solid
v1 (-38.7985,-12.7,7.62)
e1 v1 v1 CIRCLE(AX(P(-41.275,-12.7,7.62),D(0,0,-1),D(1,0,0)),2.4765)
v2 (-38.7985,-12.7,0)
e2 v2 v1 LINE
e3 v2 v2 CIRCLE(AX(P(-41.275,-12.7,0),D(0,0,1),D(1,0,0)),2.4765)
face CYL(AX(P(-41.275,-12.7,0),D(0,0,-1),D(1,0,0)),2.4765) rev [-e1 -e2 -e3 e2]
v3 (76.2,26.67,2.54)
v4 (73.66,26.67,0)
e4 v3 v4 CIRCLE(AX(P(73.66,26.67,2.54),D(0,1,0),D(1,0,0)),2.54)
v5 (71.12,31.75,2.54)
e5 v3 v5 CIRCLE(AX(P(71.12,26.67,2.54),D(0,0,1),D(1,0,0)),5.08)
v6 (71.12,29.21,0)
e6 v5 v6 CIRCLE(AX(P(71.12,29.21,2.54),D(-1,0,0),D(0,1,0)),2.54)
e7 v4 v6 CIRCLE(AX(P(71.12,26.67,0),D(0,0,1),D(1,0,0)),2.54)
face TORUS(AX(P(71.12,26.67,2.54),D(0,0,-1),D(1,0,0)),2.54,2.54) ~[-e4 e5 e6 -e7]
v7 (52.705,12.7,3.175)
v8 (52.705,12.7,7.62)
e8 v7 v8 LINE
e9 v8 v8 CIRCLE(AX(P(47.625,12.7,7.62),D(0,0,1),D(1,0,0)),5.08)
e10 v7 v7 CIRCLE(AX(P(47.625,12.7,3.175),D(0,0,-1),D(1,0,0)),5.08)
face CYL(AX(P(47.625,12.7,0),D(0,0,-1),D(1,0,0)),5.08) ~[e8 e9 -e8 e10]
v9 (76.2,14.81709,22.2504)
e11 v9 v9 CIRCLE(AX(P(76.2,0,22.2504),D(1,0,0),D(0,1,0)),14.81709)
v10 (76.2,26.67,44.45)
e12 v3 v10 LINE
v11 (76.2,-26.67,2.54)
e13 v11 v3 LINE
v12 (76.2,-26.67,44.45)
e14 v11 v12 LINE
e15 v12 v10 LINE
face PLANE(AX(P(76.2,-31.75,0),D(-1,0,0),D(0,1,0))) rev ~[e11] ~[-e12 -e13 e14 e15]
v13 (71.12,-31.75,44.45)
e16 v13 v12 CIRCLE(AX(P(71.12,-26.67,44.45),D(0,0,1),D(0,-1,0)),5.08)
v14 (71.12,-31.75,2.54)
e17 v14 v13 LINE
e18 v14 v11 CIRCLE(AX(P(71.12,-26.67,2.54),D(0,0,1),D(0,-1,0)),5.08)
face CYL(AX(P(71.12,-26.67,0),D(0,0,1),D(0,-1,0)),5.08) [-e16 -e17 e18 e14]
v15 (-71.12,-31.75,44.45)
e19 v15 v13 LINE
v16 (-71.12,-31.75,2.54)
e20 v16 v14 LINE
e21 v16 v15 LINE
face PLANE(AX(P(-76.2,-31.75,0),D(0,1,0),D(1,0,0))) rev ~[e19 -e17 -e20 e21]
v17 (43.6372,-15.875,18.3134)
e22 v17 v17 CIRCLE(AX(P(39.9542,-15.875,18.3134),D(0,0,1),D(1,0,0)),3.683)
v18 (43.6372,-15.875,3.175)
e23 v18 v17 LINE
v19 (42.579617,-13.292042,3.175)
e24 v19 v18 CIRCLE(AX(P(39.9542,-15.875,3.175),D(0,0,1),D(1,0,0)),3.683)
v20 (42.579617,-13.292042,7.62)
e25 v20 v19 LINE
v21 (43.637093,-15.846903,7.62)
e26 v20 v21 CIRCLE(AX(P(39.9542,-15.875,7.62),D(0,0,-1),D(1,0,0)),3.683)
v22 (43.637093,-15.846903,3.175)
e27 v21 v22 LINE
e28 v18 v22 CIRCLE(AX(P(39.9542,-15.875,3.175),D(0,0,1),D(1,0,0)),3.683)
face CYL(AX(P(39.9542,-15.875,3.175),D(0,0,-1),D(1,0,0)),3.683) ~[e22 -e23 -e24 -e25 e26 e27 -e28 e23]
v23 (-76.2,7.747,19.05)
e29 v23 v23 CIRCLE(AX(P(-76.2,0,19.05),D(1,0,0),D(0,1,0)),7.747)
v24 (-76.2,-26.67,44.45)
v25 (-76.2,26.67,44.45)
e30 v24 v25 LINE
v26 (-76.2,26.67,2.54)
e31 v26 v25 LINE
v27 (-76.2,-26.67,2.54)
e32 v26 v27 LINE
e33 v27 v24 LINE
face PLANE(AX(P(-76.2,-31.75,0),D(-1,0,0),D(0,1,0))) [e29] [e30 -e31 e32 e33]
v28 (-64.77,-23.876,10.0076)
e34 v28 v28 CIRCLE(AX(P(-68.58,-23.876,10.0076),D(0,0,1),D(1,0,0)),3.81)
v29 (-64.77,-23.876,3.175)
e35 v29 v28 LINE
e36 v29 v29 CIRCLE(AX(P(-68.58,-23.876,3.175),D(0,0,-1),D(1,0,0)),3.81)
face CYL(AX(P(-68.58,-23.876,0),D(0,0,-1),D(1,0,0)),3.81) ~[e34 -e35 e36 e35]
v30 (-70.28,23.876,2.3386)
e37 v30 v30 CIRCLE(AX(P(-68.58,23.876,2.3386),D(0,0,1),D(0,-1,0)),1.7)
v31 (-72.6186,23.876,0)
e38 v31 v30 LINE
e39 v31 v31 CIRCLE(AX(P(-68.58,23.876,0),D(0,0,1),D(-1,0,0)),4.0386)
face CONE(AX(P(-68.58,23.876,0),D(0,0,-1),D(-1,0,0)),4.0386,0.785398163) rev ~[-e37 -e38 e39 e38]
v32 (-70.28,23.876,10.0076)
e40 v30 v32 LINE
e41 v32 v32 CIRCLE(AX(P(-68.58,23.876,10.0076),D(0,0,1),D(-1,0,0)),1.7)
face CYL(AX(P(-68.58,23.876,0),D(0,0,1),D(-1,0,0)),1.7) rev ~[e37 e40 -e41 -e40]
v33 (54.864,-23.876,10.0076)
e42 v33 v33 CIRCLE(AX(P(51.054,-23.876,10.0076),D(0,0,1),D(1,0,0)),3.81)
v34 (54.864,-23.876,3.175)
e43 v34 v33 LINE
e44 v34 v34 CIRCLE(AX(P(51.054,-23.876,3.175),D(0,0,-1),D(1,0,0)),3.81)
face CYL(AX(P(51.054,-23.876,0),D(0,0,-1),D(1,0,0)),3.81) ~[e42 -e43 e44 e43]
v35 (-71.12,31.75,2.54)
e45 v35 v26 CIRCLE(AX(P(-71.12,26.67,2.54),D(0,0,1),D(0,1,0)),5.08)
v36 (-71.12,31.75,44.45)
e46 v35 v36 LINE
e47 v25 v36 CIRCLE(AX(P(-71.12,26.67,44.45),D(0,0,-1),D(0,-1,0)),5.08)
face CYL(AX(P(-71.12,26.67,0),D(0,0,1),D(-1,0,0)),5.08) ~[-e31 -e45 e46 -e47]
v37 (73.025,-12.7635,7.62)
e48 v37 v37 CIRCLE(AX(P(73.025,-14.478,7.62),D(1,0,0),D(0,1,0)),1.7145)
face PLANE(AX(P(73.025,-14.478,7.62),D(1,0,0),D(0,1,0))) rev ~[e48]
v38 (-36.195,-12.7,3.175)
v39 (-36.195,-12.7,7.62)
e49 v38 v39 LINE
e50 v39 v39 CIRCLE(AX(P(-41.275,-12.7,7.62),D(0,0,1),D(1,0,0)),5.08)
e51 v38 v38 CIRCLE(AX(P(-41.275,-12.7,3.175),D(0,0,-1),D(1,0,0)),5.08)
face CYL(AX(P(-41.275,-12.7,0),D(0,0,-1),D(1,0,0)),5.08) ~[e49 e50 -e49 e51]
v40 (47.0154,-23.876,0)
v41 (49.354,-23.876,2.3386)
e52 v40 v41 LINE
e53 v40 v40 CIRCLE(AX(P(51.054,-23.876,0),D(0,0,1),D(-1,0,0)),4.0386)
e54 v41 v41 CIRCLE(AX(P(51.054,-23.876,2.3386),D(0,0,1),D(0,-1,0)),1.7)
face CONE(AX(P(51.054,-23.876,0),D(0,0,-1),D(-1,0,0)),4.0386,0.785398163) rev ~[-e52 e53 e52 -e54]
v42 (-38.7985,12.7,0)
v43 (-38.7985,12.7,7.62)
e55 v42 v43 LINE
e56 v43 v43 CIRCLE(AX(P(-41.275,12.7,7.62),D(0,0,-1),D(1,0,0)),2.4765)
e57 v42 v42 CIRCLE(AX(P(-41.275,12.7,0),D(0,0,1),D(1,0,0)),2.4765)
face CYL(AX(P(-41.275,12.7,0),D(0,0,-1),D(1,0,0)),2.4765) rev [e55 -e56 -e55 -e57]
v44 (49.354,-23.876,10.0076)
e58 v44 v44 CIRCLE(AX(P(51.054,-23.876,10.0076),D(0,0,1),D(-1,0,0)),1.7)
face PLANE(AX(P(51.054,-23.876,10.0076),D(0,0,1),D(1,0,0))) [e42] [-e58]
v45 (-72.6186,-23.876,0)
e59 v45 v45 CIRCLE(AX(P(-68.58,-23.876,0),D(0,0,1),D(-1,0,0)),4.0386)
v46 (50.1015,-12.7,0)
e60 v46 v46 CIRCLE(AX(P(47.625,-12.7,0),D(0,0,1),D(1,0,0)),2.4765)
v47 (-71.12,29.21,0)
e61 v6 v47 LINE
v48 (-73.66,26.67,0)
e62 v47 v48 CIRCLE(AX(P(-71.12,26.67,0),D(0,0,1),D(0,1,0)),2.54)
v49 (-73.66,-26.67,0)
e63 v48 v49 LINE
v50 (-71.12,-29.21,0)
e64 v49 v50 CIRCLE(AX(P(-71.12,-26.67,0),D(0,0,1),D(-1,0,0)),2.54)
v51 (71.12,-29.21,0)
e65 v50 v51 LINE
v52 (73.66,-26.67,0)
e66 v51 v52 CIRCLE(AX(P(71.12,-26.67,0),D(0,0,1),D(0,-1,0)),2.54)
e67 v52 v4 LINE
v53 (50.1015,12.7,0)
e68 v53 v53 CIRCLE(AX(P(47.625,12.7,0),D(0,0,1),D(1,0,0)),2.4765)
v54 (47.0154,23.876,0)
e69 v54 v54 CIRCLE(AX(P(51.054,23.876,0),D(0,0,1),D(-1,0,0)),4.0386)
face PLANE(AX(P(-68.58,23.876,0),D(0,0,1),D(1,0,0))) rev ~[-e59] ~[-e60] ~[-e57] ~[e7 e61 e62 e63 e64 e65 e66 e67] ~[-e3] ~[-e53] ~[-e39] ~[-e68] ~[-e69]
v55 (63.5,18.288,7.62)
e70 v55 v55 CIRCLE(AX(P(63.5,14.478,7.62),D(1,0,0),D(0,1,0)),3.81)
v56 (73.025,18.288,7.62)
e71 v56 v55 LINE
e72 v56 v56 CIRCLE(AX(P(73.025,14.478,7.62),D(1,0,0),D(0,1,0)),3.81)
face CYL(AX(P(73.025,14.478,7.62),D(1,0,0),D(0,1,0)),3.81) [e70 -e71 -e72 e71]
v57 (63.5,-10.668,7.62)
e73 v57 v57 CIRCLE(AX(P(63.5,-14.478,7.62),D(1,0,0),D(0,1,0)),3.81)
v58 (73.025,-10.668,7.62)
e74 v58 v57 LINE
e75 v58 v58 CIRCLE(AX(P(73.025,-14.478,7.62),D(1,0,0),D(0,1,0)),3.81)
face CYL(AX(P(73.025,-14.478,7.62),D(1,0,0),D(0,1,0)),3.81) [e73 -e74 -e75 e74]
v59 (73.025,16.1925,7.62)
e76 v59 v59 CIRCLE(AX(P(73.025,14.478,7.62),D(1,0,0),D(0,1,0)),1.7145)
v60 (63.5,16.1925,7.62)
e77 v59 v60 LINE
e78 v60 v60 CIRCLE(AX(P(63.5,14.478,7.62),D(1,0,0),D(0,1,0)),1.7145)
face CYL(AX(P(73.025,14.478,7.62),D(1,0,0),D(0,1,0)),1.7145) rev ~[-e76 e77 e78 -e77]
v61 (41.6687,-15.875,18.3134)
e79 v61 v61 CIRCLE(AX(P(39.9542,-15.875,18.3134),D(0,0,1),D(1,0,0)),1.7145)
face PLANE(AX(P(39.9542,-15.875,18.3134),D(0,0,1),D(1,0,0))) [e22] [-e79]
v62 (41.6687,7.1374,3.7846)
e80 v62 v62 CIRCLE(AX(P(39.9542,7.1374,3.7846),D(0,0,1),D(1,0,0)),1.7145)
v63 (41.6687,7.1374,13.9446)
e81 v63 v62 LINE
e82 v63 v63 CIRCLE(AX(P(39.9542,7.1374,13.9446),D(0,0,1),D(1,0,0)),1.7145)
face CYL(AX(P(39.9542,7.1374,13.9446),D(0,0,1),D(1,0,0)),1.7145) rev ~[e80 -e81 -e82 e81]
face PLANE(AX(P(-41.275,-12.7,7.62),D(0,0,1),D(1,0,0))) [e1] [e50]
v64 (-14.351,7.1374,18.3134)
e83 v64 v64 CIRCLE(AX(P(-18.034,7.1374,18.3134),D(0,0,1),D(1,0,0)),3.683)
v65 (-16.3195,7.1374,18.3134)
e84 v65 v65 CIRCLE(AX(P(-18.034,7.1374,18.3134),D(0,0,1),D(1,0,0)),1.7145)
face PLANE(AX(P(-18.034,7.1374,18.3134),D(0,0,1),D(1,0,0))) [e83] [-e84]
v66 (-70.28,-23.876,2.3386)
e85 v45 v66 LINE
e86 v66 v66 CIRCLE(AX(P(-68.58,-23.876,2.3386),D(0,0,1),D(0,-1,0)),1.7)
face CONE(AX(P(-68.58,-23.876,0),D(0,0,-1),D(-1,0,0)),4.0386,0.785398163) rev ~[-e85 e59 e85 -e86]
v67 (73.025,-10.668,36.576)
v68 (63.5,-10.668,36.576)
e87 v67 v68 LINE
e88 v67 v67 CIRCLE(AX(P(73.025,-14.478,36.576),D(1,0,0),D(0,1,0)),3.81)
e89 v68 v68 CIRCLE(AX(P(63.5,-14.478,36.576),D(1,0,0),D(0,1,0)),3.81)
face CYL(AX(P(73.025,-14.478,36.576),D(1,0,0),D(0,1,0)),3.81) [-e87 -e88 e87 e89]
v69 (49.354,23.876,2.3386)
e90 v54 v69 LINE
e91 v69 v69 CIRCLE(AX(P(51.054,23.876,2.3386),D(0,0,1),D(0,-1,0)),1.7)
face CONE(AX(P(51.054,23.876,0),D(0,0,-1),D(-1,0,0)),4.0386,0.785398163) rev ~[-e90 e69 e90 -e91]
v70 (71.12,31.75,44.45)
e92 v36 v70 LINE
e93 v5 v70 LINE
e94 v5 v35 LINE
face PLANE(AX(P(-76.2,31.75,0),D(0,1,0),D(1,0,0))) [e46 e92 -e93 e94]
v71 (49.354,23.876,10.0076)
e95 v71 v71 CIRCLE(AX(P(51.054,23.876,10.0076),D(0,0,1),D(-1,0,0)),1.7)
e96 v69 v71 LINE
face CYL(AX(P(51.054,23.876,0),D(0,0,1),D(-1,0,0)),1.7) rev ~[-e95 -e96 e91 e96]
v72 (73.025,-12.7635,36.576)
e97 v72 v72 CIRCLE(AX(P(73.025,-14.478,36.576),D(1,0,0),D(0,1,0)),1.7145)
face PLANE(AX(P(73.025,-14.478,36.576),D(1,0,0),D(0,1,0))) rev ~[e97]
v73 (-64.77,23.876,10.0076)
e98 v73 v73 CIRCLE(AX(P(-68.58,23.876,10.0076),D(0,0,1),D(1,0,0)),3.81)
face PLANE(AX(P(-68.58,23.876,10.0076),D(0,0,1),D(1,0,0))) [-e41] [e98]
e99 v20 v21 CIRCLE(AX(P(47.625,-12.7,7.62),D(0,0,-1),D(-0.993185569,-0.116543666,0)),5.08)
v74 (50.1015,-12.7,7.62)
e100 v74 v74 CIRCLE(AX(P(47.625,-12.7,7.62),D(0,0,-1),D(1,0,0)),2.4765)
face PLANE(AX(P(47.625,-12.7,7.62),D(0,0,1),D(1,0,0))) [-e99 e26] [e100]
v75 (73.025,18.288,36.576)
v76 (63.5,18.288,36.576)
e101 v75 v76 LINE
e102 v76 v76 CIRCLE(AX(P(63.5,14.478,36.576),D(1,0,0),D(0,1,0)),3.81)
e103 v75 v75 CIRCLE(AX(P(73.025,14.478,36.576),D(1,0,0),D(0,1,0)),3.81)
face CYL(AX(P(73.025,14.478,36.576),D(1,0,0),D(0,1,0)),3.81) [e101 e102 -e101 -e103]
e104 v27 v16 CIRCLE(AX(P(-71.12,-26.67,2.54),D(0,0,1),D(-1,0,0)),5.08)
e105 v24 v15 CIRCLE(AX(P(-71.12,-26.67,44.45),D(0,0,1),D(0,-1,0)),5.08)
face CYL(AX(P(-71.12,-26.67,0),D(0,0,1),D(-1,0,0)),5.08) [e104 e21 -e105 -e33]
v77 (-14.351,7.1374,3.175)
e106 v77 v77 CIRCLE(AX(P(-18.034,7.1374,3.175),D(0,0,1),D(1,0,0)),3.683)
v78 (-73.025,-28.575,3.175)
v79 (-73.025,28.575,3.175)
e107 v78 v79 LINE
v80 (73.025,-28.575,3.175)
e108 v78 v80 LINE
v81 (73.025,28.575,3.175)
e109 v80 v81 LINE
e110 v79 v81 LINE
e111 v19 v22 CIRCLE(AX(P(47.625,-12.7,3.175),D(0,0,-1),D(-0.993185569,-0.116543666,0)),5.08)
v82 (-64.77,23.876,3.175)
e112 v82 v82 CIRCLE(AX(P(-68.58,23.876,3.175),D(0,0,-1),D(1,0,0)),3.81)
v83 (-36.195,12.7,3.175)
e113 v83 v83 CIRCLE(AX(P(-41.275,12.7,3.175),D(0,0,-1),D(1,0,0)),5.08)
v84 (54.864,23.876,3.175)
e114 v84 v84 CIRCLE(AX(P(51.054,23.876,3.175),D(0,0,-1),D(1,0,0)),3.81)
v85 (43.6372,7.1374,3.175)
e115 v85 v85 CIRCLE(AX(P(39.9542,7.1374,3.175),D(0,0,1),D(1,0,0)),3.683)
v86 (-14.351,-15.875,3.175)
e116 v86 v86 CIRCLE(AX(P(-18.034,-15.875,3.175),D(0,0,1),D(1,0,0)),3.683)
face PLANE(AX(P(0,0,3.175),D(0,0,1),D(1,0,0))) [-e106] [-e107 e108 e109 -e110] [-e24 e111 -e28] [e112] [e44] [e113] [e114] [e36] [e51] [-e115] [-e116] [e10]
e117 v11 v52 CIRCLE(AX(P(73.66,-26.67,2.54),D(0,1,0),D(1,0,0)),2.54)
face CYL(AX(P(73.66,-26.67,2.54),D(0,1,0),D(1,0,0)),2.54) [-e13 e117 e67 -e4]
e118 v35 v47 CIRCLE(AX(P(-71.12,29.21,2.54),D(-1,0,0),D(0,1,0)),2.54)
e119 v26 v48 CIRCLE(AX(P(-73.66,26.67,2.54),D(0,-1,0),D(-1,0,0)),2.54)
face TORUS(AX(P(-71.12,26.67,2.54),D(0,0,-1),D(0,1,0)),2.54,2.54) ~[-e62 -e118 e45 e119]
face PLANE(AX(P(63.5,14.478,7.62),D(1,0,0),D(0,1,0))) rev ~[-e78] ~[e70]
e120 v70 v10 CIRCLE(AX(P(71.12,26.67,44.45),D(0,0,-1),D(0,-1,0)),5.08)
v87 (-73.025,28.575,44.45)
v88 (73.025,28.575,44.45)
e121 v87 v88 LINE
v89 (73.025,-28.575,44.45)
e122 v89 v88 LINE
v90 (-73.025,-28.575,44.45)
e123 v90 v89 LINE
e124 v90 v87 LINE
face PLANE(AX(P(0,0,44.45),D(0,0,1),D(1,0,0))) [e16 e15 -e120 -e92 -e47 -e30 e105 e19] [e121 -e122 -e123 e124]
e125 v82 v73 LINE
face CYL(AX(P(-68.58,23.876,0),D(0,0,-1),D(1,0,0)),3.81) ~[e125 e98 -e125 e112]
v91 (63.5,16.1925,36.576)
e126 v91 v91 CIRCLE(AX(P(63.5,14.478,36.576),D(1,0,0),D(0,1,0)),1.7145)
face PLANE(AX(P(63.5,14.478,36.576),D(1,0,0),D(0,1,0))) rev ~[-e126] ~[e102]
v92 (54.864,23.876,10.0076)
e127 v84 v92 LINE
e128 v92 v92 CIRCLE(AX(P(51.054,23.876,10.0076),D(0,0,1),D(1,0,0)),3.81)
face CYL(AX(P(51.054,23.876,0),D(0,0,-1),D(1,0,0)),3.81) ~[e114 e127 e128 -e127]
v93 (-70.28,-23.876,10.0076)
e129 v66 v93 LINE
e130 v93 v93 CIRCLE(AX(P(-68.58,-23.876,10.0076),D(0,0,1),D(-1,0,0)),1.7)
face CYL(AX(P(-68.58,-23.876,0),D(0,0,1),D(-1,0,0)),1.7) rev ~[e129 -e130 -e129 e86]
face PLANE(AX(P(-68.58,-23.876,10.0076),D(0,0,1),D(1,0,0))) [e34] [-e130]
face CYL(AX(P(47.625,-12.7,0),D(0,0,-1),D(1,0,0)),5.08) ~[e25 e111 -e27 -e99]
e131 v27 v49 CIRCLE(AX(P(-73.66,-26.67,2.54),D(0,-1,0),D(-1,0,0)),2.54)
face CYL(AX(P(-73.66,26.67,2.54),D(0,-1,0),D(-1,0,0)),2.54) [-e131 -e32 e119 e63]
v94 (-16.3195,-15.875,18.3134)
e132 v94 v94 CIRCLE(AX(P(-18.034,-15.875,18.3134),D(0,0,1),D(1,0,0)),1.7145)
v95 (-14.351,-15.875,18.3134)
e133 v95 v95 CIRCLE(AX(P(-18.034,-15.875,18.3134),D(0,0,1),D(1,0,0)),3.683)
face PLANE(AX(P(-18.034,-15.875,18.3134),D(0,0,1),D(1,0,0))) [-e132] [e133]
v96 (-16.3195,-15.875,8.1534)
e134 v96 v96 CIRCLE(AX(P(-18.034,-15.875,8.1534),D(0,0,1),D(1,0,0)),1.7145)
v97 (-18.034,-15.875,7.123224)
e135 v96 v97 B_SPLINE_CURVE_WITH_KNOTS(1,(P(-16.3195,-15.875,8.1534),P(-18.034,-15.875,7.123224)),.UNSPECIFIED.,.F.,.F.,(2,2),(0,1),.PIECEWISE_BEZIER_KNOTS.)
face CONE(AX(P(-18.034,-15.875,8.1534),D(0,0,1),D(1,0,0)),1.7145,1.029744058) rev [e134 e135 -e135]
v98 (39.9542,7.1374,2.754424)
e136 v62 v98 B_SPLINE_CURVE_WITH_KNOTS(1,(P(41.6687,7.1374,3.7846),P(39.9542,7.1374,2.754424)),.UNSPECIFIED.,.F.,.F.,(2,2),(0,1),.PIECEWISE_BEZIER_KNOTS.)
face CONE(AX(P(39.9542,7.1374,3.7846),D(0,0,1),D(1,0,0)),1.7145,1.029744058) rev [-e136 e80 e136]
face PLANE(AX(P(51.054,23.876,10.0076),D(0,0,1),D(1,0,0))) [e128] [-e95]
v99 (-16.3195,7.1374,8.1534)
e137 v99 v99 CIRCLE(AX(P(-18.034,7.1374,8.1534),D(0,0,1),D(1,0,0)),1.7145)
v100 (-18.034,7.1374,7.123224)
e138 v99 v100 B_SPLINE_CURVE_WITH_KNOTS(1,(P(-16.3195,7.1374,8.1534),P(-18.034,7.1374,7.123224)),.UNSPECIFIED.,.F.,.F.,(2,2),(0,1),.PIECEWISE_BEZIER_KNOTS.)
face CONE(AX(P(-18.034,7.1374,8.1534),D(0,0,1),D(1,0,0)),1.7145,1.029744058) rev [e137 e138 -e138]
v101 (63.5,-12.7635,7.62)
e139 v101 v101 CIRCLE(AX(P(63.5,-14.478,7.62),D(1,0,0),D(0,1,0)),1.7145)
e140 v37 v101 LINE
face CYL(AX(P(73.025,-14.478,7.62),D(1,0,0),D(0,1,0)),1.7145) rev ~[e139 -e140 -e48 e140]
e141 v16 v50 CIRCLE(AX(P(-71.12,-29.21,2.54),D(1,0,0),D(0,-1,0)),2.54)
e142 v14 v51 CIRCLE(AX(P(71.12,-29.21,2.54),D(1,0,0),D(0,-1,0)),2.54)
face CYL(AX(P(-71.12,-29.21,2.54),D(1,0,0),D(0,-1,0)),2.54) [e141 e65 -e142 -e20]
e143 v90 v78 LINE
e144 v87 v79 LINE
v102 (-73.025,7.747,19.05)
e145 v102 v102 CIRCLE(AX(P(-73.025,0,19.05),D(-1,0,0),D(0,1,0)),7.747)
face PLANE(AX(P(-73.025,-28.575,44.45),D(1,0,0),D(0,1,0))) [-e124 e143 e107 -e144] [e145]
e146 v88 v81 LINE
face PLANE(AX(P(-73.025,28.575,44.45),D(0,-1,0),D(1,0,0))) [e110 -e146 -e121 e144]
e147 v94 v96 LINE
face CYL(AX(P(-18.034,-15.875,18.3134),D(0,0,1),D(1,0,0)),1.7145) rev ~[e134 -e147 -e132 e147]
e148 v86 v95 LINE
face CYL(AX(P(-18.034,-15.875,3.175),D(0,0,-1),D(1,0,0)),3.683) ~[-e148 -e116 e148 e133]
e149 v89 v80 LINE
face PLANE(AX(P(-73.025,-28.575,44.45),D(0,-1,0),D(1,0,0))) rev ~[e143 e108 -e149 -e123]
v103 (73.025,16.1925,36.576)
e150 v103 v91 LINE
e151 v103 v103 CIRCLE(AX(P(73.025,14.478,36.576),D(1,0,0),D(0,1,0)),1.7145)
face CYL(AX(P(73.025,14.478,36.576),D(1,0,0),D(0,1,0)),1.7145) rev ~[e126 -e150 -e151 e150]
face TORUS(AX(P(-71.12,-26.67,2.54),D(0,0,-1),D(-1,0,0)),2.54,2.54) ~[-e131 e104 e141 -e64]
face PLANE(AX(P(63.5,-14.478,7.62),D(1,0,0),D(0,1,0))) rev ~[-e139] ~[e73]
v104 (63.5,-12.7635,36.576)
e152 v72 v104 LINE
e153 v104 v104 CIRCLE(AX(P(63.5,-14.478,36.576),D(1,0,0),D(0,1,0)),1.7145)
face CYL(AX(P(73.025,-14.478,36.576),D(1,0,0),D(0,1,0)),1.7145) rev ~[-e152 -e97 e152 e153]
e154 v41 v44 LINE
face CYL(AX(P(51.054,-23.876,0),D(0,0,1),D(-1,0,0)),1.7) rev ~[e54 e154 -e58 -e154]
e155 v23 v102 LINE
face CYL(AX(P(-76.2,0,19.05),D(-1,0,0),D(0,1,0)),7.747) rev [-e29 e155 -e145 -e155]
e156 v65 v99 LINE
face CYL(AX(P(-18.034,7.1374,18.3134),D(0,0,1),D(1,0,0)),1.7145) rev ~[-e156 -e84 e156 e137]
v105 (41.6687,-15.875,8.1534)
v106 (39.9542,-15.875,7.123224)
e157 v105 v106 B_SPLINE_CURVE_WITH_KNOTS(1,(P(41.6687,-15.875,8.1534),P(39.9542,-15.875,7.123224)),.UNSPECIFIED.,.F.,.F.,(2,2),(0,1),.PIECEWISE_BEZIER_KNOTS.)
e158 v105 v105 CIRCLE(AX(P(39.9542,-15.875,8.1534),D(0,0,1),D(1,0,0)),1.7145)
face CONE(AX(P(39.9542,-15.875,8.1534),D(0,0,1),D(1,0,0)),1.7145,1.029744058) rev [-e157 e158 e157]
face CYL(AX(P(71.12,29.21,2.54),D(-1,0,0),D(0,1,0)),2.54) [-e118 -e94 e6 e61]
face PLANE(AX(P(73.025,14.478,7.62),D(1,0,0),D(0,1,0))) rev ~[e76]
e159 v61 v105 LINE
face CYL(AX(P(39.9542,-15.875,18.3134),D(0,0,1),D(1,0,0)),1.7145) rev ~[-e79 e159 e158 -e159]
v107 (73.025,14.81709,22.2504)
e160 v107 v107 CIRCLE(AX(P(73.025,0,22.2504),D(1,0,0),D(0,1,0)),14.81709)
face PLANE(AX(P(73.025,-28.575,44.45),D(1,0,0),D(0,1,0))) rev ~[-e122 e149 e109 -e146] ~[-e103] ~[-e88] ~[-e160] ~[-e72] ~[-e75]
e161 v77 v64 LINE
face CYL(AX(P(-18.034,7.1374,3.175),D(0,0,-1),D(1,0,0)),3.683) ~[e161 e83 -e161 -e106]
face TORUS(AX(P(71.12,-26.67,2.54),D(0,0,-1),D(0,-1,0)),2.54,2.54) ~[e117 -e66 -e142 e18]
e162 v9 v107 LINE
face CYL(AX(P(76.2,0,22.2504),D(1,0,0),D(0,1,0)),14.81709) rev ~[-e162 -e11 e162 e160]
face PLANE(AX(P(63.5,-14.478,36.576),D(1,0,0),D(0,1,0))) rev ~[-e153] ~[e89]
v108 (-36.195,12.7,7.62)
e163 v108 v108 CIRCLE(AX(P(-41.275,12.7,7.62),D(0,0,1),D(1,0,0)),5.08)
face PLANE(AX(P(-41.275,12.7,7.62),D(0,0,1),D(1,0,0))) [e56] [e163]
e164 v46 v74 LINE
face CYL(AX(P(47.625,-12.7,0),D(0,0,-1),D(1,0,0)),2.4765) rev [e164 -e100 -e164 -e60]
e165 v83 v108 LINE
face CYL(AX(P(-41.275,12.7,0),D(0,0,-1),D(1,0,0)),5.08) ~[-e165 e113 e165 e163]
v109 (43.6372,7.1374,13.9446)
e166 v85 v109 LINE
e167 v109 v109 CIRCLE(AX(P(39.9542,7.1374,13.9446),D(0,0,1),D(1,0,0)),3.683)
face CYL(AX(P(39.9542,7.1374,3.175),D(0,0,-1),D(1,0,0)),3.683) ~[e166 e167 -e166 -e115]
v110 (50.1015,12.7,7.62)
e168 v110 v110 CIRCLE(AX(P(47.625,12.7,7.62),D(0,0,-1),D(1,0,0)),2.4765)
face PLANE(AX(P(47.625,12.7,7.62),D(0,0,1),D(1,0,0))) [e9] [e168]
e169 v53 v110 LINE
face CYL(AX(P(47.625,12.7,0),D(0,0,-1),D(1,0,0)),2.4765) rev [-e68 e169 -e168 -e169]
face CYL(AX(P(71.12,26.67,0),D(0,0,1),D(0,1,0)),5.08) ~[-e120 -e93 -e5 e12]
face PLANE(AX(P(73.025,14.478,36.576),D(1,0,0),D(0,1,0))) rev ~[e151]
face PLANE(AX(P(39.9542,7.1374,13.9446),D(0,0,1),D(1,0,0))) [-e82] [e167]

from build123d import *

# Parameters (mm, degrees)
SKETCH_W            = 152.4
SKETCH_H            = 63.5
PAD_DEPTH           = 44.45
SKETCH001_W         = 146.05
SKETCH001_H         = 57.15
POCKET_DEPTH        = 41.275
SKETCH002_R         = 14.81709
POCKET001_DEPTH     = 5.0038
SKETCH003_R         = 3.81
PAD001_DEPTH        = 9.525
SKETCH004_R         = 1.7145
HOLE_DEPTH          = 10.16
HOLE_TIPS_R         = 1.7145
SKETCH005_R         = 7.747
POCKET002_DEPTH     = 25.4
SKETCH006_R         = 5.08
PAD002_DEPTH        = 7.62
SKETCH007_R         = 2.4765
HOLE001_DEPTH       = 24.9936
HOLE001_TIPS_R      = 2.4765
SKETCH008_R         = 3.81
PAD003_DEPTH        = 10.0076
HOLE002_D           = 3.4
HOLE002_DEPTH       = 126.5936
HOLE002_CSINK_D     = 8.0772
HOLE002_CSINK_ANGLE = 90
SKETCH010_R         = 3.683
PAD004_DEPTH        = 15.1384
SKETCH011_R         = 1.7145
HOLE003_DEPTH       = 10.16
HOLE003_TIPS_R      = 1.7145
SKETCH012_R         = 3.683
PAD005_DEPTH        = 10.7696
SKETCH013_R         = 1.7145
HOLE004_DEPTH       = 10.16
HOLE004_TIPS_R      = 1.7145
FILLET_R            = 5.08
FILLET001_R         = 2.54


with BuildPart() as part:
    # Sketch → Pad (new body)
    with BuildSketch(Plane.XY):
        Rectangle(SKETCH_W, SKETCH_H)
    extrude(amount=PAD_DEPTH)

    # Sketch001 → Pocket (cut)
    with BuildSketch(Plane.XY.offset(44.45)):
        Rectangle(SKETCH001_W, SKETCH001_H)
    extrude(amount=-POCKET_DEPTH, mode=Mode.SUBTRACT)

    # Sketch002 → Pocket001 (cut)
    with BuildSketch(Plane.YZ.offset(76.2)):
        with Locations((0, 22.2504)):
            Circle(SKETCH002_R)
    extrude(amount=-POCKET001_DEPTH, mode=Mode.SUBTRACT)

    # Sketch003 → Pad001 (join)
    with BuildSketch(Plane.YZ.offset(73.025)):
        with Locations((-14.478, 36.576)):
            Circle(SKETCH003_R)
        with Locations((14.478, 36.576)):
            Circle(SKETCH003_R)
        with Locations((14.478, 7.62)):
            Circle(SKETCH003_R)
        with Locations((-14.478, 7.62)):
            Circle(SKETCH003_R)
    extrude(amount=-PAD001_DEPTH)

    # Sketch004 → Hole (cut)
    with BuildSketch(Plane.YZ.offset(73.025)):
        with Locations((-14.478, 36.576)):
            Circle(SKETCH004_R)
        with Locations((14.478, 36.576)):
            Circle(SKETCH004_R)
        with Locations((14.478, 7.62)):
            Circle(SKETCH004_R)
        with Locations((-14.478, 7.62)):
            Circle(SKETCH004_R)
    extrude(amount=-HOLE_DEPTH, mode=Mode.SUBTRACT)

    # Hole tips → Hole tip 1 section 0
    with BuildSketch(Plane.YZ.offset(62.865), mode=Mode.PRIVATE) as hole_tip_1_s0:
        with Locations((-14.478, 36.576)):
            Circle(HOLE_TIPS_R)
    loft([hole_tip_1_s0.sketch, Vertex(61.834824, -14.478, 36.576)], mode=Mode.SUBTRACT)

    # Hole tips → Hole tip 2 section 0
    with BuildSketch(Plane.YZ.offset(62.865), mode=Mode.PRIVATE) as hole_tip_2_s0:
        with Locations((14.478, 36.576)):
            Circle(HOLE_TIPS_R)
    loft([hole_tip_2_s0.sketch, Vertex(61.834824, 14.478, 36.576)], mode=Mode.SUBTRACT)

    # Hole tips → Hole tip 3 section 0
    with BuildSketch(Plane.YZ.offset(62.865), mode=Mode.PRIVATE) as hole_tip_3_s0:
        with Locations((14.478, 7.62)):
            Circle(HOLE_TIPS_R)
    loft([hole_tip_3_s0.sketch, Vertex(61.834824, 14.478, 7.62)], mode=Mode.SUBTRACT)

    # Hole tips → Hole tip 4 section 0
    with BuildSketch(Plane.YZ.offset(62.865), mode=Mode.PRIVATE) as hole_tip_4_s0:
        with Locations((-14.478, 7.62)):
            Circle(HOLE_TIPS_R)
    loft([hole_tip_4_s0.sketch, Vertex(61.834824, -14.478, 7.62)], mode=Mode.SUBTRACT)

    # Sketch005 → Pocket002 (cut)
    with BuildSketch(Plane.YZ.offset(-76.2)):
        with Locations((0, 19.05)):
            Circle(SKETCH005_R)
    extrude(amount=POCKET002_DEPTH, mode=Mode.SUBTRACT)

    # Sketch006 → Pad002 (join)
    with BuildSketch(Plane.XY):
        with Locations((-41.275, 12.7)):
            Circle(SKETCH006_R)
        with Locations((47.625, 12.7)):
            Circle(SKETCH006_R)
        with Locations((47.625, -12.7)):
            Circle(SKETCH006_R)
        with Locations((-41.275, -12.7)):
            Circle(SKETCH006_R)
    extrude(amount=PAD002_DEPTH)

    # Sketch007 → Hole001 (cut)
    with BuildSketch(Plane.XY):
        with Locations((-41.275, 12.7)):
            Circle(SKETCH007_R)
        with Locations((47.625, 12.7)):
            Circle(SKETCH007_R)
        with Locations((47.625, -12.7)):
            Circle(SKETCH007_R)
        with Locations((-41.275, -12.7)):
            Circle(SKETCH007_R)
    extrude(amount=HOLE001_DEPTH, mode=Mode.SUBTRACT)

    # Hole001 tips → Hole001 tip 1 section 0
    with BuildSketch(Plane.XY.offset(24.9936), mode=Mode.PRIVATE) as hole001_tip_1_s0:
        with Locations((-41.275, 12.7)):
            Circle(HOLE001_TIPS_R)
    loft([hole001_tip_1_s0.sketch, Vertex(-41.275, 12.7, 26.481631)], mode=Mode.SUBTRACT)

    # Hole001 tips → Hole001 tip 2 section 0
    with BuildSketch(Plane.XY.offset(24.9936), mode=Mode.PRIVATE) as hole001_tip_2_s0:
        with Locations((47.625, 12.7)):
            Circle(HOLE001_TIPS_R)
    loft([hole001_tip_2_s0.sketch, Vertex(47.625, 12.7, 26.481631)], mode=Mode.SUBTRACT)

    # Hole001 tips → Hole001 tip 3 section 0
    with BuildSketch(Plane.XY.offset(24.9936), mode=Mode.PRIVATE) as hole001_tip_3_s0:
        with Locations((47.625, -12.7)):
            Circle(HOLE001_TIPS_R)
    loft([hole001_tip_3_s0.sketch, Vertex(47.625, -12.7, 26.481631)], mode=Mode.SUBTRACT)

    # Hole001 tips → Hole001 tip 4 section 0
    with BuildSketch(Plane.XY.offset(24.9936), mode=Mode.PRIVATE) as hole001_tip_4_s0:
        with Locations((-41.275, -12.7)):
            Circle(HOLE001_TIPS_R)
    loft([hole001_tip_4_s0.sketch, Vertex(-41.275, -12.7, 26.481631)], mode=Mode.SUBTRACT)

    # Sketch008 → Pad003 (join)
    with BuildSketch(Plane.XY):
        with Locations((-68.58, 23.876)):
            Circle(SKETCH008_R)
        with Locations((-68.58, -23.876)):
            Circle(SKETCH008_R)
        with Locations((51.054, 23.876)):
            Circle(SKETCH008_R)
        with Locations((51.054, -23.876)):
            Circle(SKETCH008_R)
    extrude(amount=PAD003_DEPTH)

    # Hole002
    with Locations(Plane(origin=(0, 0, 0), x_dir=(1, 0, 0), z_dir=(0, 0, -1))):
        with Locations((-68.58, -23.876), (-68.58, 23.876), (51.054, -23.876), (51.054, 23.876)):
            CounterSinkHole(HOLE002_D / 2, HOLE002_CSINK_D / 2, depth=HOLE002_DEPTH, counter_sink_angle=HOLE002_CSINK_ANGLE)

    # Sketch010 → Pad004 (join)
    with BuildSketch(Plane.XY.offset(3.175)):
        with Locations((-18.034, 7.1374)):
            Circle(SKETCH010_R)
        with Locations((-18.034, -15.875)):
            Circle(SKETCH010_R)
        with Locations((39.9542, -15.875)):
            Circle(SKETCH010_R)
    extrude(amount=PAD004_DEPTH)

    # Sketch011 → Hole003 (cut)
    with BuildSketch(Plane.XY.offset(18.3134)):
        with Locations((-18.034, 7.1374)):
            Circle(SKETCH011_R)
        with Locations((-18.034, -15.875)):
            Circle(SKETCH011_R)
        with Locations((39.9542, -15.875)):
            Circle(SKETCH011_R)
    extrude(amount=-HOLE003_DEPTH, mode=Mode.SUBTRACT)

    # Hole003 tips → Hole003 tip 1 section 0
    with BuildSketch(Plane.XY.offset(8.1534), mode=Mode.PRIVATE) as hole003_tip_1_s0:
        with Locations((-18.034, 7.1374)):
            Circle(HOLE003_TIPS_R)
    loft([hole003_tip_1_s0.sketch, Vertex(-18.034, 7.1374, 7.123224)], mode=Mode.SUBTRACT)

    # Hole003 tips → Hole003 tip 2 section 0
    with BuildSketch(Plane.XY.offset(8.1534), mode=Mode.PRIVATE) as hole003_tip_2_s0:
        with Locations((-18.034, -15.875)):
            Circle(HOLE003_TIPS_R)
    loft([hole003_tip_2_s0.sketch, Vertex(-18.034, -15.875, 7.123224)], mode=Mode.SUBTRACT)

    # Hole003 tips → Hole003 tip 3 section 0
    with BuildSketch(Plane.XY.offset(8.1534), mode=Mode.PRIVATE) as hole003_tip_3_s0:
        with Locations((39.9542, -15.875)):
            Circle(HOLE003_TIPS_R)
    loft([hole003_tip_3_s0.sketch, Vertex(39.9542, -15.875, 7.123224)], mode=Mode.SUBTRACT)

    # Sketch012 → Pad005 (join)
    with BuildSketch(Plane.XY.offset(3.175)):
        with Locations((39.9542, 7.1374)):
            Circle(SKETCH012_R)
    extrude(amount=PAD005_DEPTH)

    # Sketch013 → Hole004 (cut)
    with BuildSketch(Plane.XY.offset(13.9446)):
        with Locations((39.9542, 7.1374)):
            Circle(SKETCH013_R)
    extrude(amount=-HOLE004_DEPTH, mode=Mode.SUBTRACT)

    # Hole004 tips → Hole004 tip 1 section 0
    with BuildSketch(Plane.XY.offset(3.7846), mode=Mode.PRIVATE) as hole004_tip_1_s0:
        with Locations((39.9542, 7.1374)):
            Circle(HOLE004_TIPS_R)
    loft([hole004_tip_1_s0.sketch, Vertex(39.9542, 7.1374, 2.754424)], mode=Mode.SUBTRACT)

    # Fillet
    fillet_edges = [part.edges().sort_by_distance(p)[0] for p in [
        (76.2, 31.75, 22.225),
        (-76.2, 31.75, 22.225),
        (-76.2, -31.75, 22.225),
        (76.2, -31.75, 22.225),
    ]]
    fillet(fillet_edges, radius=FILLET_R)

    # Fillet001
    fillet001_edges = [part.edges().sort_by_distance(p)[0] for p in [
        (0, -31.75, 0),
    ]]
    fillet(fillet001_edges, radius=FILLET001_R)


solid = part.part
